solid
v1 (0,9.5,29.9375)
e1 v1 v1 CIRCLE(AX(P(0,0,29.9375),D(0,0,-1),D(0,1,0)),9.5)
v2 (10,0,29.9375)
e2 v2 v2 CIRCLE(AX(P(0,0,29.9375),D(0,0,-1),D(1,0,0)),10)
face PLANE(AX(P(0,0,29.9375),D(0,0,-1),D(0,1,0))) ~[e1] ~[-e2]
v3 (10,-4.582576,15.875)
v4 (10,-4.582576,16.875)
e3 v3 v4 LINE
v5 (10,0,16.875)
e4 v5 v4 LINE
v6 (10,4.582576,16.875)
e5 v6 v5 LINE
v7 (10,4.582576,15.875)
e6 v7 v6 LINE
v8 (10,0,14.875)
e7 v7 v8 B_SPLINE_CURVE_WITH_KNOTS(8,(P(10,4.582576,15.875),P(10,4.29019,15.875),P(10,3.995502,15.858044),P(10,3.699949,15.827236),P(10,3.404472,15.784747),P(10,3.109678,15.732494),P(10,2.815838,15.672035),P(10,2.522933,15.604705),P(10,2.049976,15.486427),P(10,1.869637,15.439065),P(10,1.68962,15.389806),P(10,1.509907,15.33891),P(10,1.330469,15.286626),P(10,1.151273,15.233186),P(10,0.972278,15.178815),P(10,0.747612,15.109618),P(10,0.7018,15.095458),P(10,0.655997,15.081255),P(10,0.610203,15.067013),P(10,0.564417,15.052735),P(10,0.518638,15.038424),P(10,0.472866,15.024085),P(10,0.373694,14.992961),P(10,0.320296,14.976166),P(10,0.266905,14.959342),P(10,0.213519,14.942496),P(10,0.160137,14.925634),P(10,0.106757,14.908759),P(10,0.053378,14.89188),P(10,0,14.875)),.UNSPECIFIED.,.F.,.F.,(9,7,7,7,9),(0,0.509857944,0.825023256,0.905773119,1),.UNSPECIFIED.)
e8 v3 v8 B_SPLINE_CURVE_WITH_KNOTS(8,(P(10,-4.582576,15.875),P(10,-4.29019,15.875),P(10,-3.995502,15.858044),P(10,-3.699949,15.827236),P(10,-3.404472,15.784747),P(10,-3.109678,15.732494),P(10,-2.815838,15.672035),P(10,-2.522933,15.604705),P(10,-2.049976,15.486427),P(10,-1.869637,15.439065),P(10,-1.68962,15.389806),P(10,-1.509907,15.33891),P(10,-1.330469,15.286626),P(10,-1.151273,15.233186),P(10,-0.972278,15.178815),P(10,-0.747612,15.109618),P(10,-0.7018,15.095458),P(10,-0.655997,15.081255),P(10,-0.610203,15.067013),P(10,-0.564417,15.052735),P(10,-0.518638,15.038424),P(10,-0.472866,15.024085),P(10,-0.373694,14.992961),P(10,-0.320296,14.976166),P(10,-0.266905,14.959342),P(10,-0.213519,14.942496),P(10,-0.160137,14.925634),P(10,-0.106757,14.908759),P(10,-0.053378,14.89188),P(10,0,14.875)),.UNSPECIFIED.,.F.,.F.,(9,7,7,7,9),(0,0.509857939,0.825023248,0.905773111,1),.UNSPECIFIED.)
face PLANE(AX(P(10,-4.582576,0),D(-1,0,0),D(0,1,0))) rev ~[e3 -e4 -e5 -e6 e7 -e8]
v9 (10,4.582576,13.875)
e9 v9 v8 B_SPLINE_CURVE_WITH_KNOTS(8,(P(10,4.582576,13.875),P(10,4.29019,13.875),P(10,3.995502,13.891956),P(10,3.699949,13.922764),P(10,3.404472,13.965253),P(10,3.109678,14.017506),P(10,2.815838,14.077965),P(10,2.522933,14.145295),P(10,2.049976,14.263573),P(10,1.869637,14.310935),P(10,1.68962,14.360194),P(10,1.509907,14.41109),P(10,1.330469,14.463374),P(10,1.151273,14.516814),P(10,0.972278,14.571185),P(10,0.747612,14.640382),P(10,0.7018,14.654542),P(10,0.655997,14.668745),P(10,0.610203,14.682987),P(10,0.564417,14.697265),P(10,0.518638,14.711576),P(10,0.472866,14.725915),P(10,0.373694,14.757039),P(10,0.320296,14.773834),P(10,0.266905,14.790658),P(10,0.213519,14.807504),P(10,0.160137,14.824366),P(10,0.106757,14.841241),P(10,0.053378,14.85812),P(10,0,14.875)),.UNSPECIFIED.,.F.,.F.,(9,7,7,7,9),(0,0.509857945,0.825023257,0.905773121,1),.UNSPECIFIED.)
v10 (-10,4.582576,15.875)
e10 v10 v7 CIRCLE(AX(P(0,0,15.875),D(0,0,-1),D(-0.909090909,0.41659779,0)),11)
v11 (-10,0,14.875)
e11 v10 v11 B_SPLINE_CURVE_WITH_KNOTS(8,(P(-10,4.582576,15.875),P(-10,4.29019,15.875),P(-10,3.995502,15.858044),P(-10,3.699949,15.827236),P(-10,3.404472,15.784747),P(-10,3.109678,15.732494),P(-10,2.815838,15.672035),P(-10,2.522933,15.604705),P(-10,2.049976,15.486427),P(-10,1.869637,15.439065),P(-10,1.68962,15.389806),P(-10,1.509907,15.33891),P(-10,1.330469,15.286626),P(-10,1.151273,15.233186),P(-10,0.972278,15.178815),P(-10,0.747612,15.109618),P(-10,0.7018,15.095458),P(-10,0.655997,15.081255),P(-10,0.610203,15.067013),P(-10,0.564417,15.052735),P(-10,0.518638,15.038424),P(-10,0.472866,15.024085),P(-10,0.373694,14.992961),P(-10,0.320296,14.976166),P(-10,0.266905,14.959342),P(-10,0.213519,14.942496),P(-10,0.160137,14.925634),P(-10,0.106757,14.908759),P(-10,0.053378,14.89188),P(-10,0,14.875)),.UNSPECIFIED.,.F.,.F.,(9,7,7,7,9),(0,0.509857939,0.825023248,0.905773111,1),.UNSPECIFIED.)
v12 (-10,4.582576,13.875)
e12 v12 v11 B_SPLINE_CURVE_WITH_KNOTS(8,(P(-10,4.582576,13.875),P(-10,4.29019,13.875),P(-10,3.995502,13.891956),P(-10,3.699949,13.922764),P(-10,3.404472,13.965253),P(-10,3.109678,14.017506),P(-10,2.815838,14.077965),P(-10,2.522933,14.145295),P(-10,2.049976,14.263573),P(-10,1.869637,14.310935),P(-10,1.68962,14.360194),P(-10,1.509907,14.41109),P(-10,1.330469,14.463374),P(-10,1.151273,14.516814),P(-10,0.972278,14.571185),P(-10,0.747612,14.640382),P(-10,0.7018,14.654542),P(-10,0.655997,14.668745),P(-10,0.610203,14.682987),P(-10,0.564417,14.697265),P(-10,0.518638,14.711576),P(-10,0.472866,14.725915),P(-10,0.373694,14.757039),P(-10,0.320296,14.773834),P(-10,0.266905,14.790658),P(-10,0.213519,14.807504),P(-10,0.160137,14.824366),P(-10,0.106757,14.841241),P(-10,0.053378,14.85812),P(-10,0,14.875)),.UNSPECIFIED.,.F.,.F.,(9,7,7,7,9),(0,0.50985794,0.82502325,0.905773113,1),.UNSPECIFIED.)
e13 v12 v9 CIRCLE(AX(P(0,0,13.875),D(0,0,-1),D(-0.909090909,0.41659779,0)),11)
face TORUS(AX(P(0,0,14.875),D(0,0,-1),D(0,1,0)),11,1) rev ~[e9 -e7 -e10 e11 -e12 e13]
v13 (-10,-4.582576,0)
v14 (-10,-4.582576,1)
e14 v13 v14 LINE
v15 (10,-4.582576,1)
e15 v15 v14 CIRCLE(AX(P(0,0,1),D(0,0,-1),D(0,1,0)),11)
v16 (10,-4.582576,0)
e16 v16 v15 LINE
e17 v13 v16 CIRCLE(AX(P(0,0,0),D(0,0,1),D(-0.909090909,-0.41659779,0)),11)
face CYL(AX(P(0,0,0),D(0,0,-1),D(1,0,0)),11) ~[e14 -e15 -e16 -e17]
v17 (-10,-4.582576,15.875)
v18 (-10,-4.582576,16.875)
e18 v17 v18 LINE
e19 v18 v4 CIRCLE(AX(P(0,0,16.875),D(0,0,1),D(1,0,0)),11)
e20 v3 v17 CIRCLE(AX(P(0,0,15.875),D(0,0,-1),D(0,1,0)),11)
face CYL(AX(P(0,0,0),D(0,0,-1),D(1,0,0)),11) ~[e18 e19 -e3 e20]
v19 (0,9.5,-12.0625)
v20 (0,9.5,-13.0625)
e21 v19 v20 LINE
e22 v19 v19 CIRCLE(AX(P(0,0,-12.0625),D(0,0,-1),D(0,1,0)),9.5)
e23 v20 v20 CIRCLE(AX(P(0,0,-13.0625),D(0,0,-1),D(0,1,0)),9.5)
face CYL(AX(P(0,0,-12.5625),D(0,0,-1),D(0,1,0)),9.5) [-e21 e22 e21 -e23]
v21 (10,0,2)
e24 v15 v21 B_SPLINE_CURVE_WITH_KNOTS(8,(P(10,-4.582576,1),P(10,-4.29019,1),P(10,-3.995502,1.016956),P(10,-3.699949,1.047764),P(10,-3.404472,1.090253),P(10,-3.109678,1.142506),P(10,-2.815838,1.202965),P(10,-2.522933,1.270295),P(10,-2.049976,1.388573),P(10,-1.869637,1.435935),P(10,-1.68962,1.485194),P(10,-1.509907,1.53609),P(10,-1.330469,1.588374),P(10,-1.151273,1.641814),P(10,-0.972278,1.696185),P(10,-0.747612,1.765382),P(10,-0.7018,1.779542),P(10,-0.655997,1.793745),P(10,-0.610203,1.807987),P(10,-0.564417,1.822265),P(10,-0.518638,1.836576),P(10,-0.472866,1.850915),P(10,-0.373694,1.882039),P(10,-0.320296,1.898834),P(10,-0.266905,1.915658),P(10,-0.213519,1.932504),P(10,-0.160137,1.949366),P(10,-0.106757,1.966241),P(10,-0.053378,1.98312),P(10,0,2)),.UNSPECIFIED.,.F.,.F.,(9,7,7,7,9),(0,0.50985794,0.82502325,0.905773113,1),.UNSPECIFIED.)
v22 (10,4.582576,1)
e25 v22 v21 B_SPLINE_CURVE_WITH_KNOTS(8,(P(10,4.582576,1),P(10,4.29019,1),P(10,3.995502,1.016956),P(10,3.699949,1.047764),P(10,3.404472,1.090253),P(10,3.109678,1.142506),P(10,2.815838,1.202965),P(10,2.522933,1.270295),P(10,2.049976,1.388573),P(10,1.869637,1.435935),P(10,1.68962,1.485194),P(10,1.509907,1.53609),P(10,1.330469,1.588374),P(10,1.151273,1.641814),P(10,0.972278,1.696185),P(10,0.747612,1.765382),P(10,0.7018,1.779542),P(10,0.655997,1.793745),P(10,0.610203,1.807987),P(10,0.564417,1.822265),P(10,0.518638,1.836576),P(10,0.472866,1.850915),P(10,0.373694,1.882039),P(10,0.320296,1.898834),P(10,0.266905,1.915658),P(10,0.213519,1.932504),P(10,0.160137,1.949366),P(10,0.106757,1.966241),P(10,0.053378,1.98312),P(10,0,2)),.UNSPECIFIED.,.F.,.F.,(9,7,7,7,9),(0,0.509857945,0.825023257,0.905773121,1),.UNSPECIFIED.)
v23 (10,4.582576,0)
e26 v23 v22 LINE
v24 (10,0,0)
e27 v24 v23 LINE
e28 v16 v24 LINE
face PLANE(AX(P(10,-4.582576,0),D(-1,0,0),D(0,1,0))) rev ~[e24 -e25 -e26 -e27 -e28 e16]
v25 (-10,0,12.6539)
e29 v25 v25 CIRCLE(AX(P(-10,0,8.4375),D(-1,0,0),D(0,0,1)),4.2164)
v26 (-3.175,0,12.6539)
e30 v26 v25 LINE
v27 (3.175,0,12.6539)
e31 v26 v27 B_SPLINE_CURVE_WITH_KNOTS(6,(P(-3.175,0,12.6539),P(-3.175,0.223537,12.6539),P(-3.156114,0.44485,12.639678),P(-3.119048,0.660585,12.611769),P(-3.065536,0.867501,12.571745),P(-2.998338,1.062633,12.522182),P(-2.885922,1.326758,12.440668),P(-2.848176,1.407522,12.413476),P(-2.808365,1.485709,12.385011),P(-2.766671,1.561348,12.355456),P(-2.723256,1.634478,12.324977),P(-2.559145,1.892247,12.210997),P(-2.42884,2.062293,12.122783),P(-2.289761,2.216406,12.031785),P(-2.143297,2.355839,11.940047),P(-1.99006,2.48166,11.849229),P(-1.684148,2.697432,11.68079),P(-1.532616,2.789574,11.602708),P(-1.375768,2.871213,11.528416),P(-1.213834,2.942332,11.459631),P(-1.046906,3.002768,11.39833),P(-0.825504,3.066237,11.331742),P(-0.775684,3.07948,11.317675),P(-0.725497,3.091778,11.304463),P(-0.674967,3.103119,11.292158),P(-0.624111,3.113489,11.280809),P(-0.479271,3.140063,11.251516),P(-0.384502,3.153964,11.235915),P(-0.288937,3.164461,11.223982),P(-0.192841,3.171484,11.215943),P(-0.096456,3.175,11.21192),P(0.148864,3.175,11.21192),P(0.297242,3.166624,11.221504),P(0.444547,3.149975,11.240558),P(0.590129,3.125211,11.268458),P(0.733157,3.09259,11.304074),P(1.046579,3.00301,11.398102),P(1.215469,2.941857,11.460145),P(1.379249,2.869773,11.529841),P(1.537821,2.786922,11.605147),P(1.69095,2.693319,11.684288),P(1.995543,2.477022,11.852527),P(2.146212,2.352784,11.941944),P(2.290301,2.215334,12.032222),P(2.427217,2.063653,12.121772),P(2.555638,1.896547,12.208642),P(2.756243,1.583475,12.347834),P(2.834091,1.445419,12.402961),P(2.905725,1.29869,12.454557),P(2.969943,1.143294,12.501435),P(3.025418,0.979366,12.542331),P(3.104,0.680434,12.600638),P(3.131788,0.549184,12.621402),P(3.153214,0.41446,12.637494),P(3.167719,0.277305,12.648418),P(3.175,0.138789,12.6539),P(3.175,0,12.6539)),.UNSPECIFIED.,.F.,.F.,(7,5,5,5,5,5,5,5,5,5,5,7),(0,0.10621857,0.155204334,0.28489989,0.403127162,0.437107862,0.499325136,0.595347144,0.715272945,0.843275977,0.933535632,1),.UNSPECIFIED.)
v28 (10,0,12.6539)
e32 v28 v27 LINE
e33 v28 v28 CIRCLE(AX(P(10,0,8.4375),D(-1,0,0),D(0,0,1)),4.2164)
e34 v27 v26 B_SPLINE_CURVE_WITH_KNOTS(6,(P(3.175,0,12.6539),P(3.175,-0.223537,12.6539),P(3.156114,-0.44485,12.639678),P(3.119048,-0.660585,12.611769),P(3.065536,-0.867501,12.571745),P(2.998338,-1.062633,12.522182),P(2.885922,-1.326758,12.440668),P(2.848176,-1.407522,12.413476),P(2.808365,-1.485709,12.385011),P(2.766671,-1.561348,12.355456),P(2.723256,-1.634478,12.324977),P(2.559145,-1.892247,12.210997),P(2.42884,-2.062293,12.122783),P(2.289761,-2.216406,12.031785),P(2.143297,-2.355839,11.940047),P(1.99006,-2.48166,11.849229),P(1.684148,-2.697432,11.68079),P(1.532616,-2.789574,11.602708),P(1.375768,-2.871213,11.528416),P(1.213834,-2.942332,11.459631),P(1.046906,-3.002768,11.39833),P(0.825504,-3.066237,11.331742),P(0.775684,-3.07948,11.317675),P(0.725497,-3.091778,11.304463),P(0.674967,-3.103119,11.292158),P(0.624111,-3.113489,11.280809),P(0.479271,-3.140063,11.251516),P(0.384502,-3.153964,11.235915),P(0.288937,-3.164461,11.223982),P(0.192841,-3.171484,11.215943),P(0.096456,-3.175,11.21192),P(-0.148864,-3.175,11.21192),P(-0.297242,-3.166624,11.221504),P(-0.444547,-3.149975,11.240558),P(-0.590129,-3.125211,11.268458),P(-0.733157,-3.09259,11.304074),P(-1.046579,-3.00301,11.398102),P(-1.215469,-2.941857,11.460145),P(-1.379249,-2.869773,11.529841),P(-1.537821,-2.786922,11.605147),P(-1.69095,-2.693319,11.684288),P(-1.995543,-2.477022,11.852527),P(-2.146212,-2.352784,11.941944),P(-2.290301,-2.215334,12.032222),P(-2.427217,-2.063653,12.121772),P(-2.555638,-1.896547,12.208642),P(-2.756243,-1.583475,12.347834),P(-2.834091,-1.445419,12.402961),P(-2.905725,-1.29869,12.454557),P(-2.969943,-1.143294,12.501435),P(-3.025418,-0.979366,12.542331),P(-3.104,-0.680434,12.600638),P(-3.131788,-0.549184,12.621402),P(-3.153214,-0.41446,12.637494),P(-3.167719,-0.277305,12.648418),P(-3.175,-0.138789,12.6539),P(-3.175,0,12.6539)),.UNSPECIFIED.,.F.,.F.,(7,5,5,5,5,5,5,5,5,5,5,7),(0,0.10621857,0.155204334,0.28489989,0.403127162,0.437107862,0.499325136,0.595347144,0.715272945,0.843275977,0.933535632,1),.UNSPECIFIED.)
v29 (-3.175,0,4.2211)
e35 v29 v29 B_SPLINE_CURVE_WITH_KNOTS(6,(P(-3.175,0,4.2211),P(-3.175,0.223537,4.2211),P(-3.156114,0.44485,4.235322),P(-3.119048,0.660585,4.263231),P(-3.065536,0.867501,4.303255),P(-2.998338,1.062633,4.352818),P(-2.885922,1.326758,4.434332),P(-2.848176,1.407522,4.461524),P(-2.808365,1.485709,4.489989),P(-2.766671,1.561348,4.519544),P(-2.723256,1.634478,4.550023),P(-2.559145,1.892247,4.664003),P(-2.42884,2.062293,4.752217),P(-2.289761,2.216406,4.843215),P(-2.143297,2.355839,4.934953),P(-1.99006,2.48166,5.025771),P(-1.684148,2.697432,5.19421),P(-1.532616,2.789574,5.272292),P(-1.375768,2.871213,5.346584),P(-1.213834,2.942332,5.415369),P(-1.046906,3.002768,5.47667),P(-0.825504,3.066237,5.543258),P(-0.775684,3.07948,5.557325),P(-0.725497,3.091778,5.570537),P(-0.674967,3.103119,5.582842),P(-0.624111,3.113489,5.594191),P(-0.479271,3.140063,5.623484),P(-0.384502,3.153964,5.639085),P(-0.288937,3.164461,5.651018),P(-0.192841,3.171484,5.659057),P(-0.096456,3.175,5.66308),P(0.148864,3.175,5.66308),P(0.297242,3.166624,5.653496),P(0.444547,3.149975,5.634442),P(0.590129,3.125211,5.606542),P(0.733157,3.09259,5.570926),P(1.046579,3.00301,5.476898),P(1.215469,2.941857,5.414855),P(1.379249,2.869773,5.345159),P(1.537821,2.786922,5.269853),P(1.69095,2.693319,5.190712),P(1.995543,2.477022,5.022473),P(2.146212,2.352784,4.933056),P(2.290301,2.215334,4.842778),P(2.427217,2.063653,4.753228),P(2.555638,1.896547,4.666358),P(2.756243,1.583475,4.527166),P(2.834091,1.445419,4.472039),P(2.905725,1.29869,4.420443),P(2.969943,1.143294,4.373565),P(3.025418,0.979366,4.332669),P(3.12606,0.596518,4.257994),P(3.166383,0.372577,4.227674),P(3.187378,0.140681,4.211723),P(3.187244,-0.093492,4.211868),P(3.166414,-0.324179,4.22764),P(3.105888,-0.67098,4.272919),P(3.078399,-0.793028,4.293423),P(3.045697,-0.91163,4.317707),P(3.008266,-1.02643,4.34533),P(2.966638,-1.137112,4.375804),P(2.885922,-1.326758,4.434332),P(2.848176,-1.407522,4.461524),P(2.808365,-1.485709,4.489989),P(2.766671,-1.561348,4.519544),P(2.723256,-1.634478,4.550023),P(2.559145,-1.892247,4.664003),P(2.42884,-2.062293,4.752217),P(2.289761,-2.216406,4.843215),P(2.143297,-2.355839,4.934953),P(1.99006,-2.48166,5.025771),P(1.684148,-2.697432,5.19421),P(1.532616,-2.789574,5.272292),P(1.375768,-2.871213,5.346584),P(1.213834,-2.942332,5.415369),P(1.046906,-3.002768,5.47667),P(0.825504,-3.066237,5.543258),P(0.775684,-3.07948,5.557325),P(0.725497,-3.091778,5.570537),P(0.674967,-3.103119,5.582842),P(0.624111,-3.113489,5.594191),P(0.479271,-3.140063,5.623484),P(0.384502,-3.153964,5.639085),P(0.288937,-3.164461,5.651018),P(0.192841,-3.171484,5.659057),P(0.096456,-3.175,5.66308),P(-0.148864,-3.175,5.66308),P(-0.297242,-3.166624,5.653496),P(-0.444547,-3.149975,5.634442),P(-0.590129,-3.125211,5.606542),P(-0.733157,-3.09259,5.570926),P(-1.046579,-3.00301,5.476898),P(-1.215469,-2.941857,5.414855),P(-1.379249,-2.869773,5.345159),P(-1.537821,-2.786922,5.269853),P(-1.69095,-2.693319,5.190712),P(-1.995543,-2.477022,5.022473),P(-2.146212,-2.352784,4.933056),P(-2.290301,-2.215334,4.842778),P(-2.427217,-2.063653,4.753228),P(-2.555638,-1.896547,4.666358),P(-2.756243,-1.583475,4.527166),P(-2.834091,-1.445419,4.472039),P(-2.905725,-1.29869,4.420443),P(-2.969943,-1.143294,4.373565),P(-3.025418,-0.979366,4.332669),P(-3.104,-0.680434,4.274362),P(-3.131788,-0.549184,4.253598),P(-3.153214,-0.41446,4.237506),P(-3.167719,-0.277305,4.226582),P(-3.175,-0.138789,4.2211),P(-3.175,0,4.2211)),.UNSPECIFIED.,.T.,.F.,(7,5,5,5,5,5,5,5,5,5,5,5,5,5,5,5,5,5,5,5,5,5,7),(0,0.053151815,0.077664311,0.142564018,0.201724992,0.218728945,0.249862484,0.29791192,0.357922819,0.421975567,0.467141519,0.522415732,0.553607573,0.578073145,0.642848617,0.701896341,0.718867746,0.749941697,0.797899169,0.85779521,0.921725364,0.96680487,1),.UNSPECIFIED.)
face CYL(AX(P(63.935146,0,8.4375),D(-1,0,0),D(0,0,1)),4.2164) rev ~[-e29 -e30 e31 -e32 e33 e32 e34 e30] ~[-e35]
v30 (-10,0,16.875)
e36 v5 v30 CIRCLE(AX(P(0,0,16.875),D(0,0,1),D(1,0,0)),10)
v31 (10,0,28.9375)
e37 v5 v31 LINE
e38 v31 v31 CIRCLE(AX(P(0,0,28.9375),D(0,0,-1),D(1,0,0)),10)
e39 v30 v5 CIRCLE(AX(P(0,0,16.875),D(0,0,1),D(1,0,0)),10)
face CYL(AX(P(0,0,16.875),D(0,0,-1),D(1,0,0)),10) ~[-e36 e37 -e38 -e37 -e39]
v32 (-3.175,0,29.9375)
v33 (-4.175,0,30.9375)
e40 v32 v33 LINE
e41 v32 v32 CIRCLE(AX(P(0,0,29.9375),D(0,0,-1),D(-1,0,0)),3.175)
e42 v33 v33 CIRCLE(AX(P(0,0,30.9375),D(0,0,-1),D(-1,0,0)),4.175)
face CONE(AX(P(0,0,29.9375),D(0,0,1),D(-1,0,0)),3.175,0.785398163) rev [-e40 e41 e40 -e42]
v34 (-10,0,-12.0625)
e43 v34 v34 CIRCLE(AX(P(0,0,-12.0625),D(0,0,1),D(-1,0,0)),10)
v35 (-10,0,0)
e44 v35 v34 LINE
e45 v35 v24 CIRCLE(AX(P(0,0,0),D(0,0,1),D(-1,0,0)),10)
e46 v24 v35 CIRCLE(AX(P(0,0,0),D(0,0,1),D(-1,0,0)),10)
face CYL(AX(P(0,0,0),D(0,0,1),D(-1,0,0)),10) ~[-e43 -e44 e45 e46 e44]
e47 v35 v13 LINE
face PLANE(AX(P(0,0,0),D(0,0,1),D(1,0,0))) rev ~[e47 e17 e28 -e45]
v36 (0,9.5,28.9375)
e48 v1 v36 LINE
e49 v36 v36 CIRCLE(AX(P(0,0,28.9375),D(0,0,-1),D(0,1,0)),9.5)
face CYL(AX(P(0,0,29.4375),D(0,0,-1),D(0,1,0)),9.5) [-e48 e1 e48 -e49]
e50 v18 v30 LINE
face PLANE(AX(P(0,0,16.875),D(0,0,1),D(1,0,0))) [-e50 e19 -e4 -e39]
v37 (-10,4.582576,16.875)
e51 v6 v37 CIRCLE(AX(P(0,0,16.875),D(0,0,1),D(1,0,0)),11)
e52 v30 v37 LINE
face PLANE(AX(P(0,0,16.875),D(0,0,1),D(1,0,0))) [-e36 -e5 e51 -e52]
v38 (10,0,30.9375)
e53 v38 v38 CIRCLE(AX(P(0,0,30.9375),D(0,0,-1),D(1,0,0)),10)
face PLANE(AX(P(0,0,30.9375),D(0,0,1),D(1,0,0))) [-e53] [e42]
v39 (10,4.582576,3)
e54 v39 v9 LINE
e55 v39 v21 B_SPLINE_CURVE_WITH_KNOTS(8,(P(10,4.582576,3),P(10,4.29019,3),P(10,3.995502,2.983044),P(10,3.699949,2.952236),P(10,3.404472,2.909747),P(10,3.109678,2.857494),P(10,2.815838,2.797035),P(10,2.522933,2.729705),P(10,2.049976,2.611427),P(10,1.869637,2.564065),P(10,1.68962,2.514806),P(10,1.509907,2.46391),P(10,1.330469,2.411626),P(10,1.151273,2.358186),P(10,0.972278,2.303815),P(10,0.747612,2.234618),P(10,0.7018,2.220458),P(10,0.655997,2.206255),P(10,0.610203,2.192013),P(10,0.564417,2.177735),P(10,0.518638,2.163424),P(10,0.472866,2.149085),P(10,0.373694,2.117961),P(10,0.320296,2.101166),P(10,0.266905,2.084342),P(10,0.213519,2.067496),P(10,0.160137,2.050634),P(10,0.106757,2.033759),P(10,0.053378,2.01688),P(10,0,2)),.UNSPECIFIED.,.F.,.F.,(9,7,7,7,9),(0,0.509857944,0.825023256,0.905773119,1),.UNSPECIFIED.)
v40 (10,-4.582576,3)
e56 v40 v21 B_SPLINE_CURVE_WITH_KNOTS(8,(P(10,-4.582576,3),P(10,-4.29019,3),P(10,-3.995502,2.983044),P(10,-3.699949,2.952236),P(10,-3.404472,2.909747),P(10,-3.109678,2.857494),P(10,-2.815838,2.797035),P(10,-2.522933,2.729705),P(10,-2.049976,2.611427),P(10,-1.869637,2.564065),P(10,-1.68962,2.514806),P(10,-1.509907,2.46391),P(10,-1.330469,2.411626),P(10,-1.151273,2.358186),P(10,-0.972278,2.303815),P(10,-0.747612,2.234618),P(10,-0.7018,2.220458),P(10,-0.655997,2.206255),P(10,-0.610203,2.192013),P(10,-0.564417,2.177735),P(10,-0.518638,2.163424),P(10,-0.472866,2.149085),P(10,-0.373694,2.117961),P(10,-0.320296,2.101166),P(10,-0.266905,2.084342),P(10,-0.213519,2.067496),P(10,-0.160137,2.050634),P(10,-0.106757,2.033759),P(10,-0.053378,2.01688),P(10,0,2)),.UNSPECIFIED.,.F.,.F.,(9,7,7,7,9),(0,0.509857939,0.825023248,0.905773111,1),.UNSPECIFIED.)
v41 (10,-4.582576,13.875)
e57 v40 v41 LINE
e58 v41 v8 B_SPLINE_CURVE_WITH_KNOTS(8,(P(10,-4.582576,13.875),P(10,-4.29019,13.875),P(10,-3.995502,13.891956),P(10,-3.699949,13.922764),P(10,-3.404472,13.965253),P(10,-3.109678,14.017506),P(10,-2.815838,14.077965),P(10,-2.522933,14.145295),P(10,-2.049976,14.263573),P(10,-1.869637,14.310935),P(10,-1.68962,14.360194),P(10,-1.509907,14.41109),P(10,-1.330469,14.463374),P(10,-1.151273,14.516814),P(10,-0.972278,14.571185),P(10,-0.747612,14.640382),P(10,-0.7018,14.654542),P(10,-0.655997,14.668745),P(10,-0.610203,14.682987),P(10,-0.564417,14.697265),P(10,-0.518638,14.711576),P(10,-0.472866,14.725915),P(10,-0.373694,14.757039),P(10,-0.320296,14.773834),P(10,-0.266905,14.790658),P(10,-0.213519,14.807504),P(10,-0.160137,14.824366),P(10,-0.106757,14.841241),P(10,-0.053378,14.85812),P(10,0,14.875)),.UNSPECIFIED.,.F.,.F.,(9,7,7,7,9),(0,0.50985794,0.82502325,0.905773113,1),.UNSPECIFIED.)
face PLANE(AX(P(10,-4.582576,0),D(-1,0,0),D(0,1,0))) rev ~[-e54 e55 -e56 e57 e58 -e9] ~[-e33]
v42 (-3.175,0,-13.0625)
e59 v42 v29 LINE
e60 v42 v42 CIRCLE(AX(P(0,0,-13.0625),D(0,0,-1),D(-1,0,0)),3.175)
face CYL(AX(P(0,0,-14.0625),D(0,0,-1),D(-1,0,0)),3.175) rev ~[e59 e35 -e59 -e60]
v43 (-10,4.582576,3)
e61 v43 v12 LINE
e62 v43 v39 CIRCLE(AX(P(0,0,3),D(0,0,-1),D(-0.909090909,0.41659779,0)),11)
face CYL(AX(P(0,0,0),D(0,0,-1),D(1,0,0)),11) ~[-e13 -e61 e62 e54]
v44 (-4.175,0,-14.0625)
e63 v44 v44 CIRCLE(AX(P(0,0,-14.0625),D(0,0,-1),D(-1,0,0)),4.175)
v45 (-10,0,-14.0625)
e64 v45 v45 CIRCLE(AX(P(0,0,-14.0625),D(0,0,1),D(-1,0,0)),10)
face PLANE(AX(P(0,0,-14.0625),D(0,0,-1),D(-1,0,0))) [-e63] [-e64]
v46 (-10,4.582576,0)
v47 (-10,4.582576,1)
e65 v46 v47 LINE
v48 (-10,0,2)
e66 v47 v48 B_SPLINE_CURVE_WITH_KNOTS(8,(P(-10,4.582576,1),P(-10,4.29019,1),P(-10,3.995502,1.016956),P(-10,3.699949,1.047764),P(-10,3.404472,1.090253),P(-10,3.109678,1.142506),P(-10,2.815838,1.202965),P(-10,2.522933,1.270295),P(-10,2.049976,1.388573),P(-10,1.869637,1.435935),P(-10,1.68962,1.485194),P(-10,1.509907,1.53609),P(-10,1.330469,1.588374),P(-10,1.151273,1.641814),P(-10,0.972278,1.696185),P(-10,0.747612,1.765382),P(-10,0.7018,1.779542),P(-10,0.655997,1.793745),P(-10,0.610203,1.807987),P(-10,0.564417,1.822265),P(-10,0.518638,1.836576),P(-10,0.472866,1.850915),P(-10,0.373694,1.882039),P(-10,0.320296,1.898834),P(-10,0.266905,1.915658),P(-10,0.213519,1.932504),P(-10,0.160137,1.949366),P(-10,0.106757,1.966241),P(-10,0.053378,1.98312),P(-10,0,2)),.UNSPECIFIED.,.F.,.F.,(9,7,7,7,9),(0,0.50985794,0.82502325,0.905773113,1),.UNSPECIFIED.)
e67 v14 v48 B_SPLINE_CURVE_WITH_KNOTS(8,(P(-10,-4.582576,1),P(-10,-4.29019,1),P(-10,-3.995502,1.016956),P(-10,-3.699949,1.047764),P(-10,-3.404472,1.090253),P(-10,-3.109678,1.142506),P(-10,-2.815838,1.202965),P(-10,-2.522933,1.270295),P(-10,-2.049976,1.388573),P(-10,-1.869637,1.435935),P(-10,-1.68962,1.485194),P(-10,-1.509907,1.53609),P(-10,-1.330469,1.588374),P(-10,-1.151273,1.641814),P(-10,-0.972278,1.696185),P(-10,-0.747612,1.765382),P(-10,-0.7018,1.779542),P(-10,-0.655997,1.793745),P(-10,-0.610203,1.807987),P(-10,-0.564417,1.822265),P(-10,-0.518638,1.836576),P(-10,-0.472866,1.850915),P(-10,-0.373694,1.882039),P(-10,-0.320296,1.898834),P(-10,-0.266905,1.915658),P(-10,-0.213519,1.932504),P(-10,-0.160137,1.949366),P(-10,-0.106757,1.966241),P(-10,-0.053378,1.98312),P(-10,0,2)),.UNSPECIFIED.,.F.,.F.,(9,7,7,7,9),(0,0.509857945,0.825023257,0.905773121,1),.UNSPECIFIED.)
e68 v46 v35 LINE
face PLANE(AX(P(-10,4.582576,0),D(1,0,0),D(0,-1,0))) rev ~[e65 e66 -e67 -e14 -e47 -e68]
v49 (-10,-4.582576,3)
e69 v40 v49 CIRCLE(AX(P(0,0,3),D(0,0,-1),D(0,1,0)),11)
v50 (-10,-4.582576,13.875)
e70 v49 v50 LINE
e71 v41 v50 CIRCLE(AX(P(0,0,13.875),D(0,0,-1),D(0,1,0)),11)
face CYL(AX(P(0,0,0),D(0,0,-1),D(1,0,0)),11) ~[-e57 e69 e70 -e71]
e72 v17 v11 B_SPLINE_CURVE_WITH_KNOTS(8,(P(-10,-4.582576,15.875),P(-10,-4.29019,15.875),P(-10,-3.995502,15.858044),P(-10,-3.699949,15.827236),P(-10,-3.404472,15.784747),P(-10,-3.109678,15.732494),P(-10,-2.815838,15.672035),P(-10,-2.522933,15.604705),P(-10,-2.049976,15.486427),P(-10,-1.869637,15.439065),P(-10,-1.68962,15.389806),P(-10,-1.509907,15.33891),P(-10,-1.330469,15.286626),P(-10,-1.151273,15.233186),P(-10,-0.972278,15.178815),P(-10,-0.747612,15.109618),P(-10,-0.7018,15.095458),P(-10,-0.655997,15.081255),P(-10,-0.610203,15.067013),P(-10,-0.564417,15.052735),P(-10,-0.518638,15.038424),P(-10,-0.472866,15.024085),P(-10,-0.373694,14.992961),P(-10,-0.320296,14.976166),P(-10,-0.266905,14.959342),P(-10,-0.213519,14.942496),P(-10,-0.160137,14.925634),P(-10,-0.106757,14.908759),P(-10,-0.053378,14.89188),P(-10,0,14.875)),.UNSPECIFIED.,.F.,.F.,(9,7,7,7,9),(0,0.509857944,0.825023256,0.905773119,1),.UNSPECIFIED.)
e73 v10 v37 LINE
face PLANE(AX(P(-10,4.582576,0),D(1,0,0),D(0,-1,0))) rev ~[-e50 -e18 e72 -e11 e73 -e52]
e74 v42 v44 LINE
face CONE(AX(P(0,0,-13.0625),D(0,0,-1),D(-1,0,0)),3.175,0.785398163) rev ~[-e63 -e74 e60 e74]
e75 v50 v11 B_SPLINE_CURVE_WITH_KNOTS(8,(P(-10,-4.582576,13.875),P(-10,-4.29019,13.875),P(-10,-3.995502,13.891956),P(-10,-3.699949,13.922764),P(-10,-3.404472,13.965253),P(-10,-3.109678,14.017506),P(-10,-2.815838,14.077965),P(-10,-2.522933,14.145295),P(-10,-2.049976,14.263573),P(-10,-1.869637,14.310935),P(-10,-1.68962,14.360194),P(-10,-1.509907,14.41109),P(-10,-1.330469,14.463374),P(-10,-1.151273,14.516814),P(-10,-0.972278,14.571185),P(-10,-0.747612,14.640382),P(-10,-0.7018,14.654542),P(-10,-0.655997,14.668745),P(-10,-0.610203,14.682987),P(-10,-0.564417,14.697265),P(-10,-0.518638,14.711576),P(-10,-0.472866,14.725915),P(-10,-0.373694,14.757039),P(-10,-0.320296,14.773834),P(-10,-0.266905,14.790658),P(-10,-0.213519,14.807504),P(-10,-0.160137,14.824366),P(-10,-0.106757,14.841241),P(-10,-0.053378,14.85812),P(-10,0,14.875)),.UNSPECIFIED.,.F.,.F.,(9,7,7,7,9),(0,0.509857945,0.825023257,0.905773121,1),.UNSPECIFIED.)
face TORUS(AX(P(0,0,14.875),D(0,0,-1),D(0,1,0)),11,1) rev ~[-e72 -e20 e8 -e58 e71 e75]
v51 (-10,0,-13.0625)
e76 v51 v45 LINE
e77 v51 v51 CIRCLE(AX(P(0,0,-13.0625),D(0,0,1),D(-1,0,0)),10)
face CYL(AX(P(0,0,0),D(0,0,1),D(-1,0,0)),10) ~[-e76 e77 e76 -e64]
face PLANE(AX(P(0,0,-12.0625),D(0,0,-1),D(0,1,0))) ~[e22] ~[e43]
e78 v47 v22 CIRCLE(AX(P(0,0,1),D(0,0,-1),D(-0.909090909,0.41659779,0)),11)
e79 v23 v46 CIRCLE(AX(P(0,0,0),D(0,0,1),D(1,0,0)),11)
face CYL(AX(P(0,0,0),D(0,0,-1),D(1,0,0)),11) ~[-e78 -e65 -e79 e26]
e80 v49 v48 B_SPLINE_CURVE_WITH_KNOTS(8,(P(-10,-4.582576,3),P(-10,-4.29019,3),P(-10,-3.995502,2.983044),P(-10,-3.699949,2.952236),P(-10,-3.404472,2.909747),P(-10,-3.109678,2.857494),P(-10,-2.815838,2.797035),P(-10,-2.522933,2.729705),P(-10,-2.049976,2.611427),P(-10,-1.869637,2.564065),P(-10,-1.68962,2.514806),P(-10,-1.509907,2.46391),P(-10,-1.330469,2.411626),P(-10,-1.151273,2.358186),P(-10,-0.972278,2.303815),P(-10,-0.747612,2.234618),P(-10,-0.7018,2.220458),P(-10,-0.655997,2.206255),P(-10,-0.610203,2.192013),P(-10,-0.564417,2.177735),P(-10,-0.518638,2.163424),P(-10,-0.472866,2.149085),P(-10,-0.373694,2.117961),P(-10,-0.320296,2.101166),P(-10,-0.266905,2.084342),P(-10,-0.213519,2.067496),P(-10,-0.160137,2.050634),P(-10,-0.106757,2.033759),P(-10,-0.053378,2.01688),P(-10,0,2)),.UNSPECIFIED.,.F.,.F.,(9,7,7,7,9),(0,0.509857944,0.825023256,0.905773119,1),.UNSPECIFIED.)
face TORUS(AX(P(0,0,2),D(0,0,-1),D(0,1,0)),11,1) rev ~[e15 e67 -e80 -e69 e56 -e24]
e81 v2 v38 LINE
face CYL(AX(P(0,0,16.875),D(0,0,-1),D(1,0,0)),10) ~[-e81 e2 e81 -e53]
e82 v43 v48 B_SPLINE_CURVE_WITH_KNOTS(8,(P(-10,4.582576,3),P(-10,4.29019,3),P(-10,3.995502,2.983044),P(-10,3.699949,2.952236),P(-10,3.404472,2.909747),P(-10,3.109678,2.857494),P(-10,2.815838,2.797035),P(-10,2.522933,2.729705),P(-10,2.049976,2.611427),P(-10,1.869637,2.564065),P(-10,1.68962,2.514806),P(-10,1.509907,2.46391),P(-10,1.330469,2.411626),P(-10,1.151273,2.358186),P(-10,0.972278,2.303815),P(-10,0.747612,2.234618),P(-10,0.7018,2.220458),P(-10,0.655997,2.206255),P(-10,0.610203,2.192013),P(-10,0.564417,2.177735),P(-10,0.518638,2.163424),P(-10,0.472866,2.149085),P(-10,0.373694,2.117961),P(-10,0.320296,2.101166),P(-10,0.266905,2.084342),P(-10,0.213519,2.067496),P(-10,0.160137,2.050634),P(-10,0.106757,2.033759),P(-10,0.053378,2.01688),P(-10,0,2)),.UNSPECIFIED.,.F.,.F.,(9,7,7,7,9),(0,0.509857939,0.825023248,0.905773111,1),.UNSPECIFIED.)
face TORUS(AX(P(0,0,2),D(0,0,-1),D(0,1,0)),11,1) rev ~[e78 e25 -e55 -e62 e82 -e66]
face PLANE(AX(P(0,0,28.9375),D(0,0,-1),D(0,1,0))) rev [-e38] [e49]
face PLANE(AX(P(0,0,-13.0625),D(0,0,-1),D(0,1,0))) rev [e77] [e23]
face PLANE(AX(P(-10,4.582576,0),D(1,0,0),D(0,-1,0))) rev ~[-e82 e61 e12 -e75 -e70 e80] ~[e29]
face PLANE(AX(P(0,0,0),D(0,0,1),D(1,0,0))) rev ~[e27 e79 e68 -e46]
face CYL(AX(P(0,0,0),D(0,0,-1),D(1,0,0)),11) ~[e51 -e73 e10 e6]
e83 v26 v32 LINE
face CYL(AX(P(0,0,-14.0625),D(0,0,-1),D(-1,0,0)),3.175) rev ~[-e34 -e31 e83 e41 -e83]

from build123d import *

# Parameters (mm, degrees)
SKETCH1_R               = 11
BOSS_EXTRUDE1_DEPTH     = 16.875
SKETCH2_R               = 10
BOSS_EXTRUDE2_DEPTH     = 14.0625
SKETCH3_R               = 10
BOSS_EXTRUDE3_DEPTH     = 14.0625
CUT_EXTRUDE4_DEPTH      = 15.0625
CUT_EXTRUDE4_DEPTH_BACK = 31.9375
SKETCH6_W               = 1
SKETCH6_H               = 0.5
F_3_8_24_TAPPED_HOLE1_D = 8.4328
SKETCH10_R              = 3.175
CUT_EXTRUDE5_DEPTH      = 1
CUT_EXTRUDE5_DEPTH_BACK = 46
CHAMFER1_SIZE           = 1


with BuildPart() as part:
    # Sketch1 → Boss-Extrude1 (new body)
    with BuildSketch(Plane.XY):
        Circle(SKETCH1_R)
    extrude(amount=BOSS_EXTRUDE1_DEPTH)

    # Sketch2 → Boss-Extrude2 (add)
    with BuildSketch(Plane(origin=(0, 0, 0), x_dir=(-1, 0, 0), z_dir=(0, 0, -1))):
        Circle(SKETCH2_R)
    extrude(amount=BOSS_EXTRUDE2_DEPTH)

    # Sketch3 → Boss-Extrude3 (add)
    with BuildSketch(Plane.XY.offset(16.875)):
        Circle(SKETCH3_R)
    extrude(amount=BOSS_EXTRUDE3_DEPTH)

    # Sketch5 → Cut-Extrude4 (cut, two sides)
    with BuildSketch(Plane(origin=(0, 0, 0), x_dir=(-1, 0, 0), z_dir=(0, 0, -1))) as cut_extrude4_sk:
        with BuildLine():
            Line((-10, -4.582575695), (-10, 4.582575695))
            ThreePointArc((-10, 4.582575695), (-11, 0), (-10, -4.582575695))
        make_face()
        with BuildLine():
            ThreePointArc((11, 0), (10.74709263, 2.34520788), (10, 4.582575695))
            Line((10, 4.582575695), (10, -4.582575695))
            ThreePointArc((10, -4.582575695), (10.74709263, -2.34520788), (11, 0))
        make_face()
    extrude(amount=CUT_EXTRUDE4_DEPTH, mode=Mode.SUBTRACT)
    extrude(cut_extrude4_sk.sketch, amount=-CUT_EXTRUDE4_DEPTH_BACK, mode=Mode.SUBTRACT)

    # Sketch6 → Cut-Revolve1 (revolve, cut)
    with BuildSketch(Plane(origin=(0, 0, 0), x_dir=(0, 0, -1), z_dir=(1, 0, 0))):
        with Locations((12.5625, 9.75)):
            Rectangle(SKETCH6_W, SKETCH6_H)
        with BuildLine():
            Line((-15.875, 11), (-13.875, 11))
            ThreePointArc((-13.875, 11), (-14.875, 10), (-15.875, 11))
        make_face()
        with Locations((-29.4375, 9.75)):
            Rectangle(SKETCH6_W, SKETCH6_H)
        with BuildLine():
            Line((-3, 11), (-1, 11))
            ThreePointArc((-1, 11), (-2, 10), (-3, 11))
        make_face()
    revolve(axis=Axis((0, 0, 30.9375), (0, 0, -1)), mode=Mode.SUBTRACT)

    # 3/8-24 Tapped Hole1 (through all)
    with Locations(Plane(origin=(10, 0, 0), x_dir=(0, 0, -1), z_dir=(1, 0, 0))):
        with Locations((-8.4375, 0)):
            Hole(F_3_8_24_TAPPED_HOLE1_D / 2)

    # Sketch10 → Cut-Extrude5 (cut, two sides)
    with BuildSketch(Plane(origin=(0, 0, -14.0625), x_dir=(-1, 0, 0), z_dir=(0, 0, -1))) as cut_extrude5_sk:
        Circle(SKETCH10_R)
    extrude(amount=CUT_EXTRUDE5_DEPTH, mode=Mode.SUBTRACT)
    extrude(cut_extrude5_sk.sketch, amount=-CUT_EXTRUDE5_DEPTH_BACK, mode=Mode.SUBTRACT)

    # Chamfer1
    chamfer1_edges = [part.edges().sort_by_distance(p)[0] for p in [
        (3.175, 0, -14.0625),
        (3.175, 0, 30.9375),
    ]]
    chamfer(chamfer1_edges, length=CHAMFER1_SIZE)


solid = part.part
